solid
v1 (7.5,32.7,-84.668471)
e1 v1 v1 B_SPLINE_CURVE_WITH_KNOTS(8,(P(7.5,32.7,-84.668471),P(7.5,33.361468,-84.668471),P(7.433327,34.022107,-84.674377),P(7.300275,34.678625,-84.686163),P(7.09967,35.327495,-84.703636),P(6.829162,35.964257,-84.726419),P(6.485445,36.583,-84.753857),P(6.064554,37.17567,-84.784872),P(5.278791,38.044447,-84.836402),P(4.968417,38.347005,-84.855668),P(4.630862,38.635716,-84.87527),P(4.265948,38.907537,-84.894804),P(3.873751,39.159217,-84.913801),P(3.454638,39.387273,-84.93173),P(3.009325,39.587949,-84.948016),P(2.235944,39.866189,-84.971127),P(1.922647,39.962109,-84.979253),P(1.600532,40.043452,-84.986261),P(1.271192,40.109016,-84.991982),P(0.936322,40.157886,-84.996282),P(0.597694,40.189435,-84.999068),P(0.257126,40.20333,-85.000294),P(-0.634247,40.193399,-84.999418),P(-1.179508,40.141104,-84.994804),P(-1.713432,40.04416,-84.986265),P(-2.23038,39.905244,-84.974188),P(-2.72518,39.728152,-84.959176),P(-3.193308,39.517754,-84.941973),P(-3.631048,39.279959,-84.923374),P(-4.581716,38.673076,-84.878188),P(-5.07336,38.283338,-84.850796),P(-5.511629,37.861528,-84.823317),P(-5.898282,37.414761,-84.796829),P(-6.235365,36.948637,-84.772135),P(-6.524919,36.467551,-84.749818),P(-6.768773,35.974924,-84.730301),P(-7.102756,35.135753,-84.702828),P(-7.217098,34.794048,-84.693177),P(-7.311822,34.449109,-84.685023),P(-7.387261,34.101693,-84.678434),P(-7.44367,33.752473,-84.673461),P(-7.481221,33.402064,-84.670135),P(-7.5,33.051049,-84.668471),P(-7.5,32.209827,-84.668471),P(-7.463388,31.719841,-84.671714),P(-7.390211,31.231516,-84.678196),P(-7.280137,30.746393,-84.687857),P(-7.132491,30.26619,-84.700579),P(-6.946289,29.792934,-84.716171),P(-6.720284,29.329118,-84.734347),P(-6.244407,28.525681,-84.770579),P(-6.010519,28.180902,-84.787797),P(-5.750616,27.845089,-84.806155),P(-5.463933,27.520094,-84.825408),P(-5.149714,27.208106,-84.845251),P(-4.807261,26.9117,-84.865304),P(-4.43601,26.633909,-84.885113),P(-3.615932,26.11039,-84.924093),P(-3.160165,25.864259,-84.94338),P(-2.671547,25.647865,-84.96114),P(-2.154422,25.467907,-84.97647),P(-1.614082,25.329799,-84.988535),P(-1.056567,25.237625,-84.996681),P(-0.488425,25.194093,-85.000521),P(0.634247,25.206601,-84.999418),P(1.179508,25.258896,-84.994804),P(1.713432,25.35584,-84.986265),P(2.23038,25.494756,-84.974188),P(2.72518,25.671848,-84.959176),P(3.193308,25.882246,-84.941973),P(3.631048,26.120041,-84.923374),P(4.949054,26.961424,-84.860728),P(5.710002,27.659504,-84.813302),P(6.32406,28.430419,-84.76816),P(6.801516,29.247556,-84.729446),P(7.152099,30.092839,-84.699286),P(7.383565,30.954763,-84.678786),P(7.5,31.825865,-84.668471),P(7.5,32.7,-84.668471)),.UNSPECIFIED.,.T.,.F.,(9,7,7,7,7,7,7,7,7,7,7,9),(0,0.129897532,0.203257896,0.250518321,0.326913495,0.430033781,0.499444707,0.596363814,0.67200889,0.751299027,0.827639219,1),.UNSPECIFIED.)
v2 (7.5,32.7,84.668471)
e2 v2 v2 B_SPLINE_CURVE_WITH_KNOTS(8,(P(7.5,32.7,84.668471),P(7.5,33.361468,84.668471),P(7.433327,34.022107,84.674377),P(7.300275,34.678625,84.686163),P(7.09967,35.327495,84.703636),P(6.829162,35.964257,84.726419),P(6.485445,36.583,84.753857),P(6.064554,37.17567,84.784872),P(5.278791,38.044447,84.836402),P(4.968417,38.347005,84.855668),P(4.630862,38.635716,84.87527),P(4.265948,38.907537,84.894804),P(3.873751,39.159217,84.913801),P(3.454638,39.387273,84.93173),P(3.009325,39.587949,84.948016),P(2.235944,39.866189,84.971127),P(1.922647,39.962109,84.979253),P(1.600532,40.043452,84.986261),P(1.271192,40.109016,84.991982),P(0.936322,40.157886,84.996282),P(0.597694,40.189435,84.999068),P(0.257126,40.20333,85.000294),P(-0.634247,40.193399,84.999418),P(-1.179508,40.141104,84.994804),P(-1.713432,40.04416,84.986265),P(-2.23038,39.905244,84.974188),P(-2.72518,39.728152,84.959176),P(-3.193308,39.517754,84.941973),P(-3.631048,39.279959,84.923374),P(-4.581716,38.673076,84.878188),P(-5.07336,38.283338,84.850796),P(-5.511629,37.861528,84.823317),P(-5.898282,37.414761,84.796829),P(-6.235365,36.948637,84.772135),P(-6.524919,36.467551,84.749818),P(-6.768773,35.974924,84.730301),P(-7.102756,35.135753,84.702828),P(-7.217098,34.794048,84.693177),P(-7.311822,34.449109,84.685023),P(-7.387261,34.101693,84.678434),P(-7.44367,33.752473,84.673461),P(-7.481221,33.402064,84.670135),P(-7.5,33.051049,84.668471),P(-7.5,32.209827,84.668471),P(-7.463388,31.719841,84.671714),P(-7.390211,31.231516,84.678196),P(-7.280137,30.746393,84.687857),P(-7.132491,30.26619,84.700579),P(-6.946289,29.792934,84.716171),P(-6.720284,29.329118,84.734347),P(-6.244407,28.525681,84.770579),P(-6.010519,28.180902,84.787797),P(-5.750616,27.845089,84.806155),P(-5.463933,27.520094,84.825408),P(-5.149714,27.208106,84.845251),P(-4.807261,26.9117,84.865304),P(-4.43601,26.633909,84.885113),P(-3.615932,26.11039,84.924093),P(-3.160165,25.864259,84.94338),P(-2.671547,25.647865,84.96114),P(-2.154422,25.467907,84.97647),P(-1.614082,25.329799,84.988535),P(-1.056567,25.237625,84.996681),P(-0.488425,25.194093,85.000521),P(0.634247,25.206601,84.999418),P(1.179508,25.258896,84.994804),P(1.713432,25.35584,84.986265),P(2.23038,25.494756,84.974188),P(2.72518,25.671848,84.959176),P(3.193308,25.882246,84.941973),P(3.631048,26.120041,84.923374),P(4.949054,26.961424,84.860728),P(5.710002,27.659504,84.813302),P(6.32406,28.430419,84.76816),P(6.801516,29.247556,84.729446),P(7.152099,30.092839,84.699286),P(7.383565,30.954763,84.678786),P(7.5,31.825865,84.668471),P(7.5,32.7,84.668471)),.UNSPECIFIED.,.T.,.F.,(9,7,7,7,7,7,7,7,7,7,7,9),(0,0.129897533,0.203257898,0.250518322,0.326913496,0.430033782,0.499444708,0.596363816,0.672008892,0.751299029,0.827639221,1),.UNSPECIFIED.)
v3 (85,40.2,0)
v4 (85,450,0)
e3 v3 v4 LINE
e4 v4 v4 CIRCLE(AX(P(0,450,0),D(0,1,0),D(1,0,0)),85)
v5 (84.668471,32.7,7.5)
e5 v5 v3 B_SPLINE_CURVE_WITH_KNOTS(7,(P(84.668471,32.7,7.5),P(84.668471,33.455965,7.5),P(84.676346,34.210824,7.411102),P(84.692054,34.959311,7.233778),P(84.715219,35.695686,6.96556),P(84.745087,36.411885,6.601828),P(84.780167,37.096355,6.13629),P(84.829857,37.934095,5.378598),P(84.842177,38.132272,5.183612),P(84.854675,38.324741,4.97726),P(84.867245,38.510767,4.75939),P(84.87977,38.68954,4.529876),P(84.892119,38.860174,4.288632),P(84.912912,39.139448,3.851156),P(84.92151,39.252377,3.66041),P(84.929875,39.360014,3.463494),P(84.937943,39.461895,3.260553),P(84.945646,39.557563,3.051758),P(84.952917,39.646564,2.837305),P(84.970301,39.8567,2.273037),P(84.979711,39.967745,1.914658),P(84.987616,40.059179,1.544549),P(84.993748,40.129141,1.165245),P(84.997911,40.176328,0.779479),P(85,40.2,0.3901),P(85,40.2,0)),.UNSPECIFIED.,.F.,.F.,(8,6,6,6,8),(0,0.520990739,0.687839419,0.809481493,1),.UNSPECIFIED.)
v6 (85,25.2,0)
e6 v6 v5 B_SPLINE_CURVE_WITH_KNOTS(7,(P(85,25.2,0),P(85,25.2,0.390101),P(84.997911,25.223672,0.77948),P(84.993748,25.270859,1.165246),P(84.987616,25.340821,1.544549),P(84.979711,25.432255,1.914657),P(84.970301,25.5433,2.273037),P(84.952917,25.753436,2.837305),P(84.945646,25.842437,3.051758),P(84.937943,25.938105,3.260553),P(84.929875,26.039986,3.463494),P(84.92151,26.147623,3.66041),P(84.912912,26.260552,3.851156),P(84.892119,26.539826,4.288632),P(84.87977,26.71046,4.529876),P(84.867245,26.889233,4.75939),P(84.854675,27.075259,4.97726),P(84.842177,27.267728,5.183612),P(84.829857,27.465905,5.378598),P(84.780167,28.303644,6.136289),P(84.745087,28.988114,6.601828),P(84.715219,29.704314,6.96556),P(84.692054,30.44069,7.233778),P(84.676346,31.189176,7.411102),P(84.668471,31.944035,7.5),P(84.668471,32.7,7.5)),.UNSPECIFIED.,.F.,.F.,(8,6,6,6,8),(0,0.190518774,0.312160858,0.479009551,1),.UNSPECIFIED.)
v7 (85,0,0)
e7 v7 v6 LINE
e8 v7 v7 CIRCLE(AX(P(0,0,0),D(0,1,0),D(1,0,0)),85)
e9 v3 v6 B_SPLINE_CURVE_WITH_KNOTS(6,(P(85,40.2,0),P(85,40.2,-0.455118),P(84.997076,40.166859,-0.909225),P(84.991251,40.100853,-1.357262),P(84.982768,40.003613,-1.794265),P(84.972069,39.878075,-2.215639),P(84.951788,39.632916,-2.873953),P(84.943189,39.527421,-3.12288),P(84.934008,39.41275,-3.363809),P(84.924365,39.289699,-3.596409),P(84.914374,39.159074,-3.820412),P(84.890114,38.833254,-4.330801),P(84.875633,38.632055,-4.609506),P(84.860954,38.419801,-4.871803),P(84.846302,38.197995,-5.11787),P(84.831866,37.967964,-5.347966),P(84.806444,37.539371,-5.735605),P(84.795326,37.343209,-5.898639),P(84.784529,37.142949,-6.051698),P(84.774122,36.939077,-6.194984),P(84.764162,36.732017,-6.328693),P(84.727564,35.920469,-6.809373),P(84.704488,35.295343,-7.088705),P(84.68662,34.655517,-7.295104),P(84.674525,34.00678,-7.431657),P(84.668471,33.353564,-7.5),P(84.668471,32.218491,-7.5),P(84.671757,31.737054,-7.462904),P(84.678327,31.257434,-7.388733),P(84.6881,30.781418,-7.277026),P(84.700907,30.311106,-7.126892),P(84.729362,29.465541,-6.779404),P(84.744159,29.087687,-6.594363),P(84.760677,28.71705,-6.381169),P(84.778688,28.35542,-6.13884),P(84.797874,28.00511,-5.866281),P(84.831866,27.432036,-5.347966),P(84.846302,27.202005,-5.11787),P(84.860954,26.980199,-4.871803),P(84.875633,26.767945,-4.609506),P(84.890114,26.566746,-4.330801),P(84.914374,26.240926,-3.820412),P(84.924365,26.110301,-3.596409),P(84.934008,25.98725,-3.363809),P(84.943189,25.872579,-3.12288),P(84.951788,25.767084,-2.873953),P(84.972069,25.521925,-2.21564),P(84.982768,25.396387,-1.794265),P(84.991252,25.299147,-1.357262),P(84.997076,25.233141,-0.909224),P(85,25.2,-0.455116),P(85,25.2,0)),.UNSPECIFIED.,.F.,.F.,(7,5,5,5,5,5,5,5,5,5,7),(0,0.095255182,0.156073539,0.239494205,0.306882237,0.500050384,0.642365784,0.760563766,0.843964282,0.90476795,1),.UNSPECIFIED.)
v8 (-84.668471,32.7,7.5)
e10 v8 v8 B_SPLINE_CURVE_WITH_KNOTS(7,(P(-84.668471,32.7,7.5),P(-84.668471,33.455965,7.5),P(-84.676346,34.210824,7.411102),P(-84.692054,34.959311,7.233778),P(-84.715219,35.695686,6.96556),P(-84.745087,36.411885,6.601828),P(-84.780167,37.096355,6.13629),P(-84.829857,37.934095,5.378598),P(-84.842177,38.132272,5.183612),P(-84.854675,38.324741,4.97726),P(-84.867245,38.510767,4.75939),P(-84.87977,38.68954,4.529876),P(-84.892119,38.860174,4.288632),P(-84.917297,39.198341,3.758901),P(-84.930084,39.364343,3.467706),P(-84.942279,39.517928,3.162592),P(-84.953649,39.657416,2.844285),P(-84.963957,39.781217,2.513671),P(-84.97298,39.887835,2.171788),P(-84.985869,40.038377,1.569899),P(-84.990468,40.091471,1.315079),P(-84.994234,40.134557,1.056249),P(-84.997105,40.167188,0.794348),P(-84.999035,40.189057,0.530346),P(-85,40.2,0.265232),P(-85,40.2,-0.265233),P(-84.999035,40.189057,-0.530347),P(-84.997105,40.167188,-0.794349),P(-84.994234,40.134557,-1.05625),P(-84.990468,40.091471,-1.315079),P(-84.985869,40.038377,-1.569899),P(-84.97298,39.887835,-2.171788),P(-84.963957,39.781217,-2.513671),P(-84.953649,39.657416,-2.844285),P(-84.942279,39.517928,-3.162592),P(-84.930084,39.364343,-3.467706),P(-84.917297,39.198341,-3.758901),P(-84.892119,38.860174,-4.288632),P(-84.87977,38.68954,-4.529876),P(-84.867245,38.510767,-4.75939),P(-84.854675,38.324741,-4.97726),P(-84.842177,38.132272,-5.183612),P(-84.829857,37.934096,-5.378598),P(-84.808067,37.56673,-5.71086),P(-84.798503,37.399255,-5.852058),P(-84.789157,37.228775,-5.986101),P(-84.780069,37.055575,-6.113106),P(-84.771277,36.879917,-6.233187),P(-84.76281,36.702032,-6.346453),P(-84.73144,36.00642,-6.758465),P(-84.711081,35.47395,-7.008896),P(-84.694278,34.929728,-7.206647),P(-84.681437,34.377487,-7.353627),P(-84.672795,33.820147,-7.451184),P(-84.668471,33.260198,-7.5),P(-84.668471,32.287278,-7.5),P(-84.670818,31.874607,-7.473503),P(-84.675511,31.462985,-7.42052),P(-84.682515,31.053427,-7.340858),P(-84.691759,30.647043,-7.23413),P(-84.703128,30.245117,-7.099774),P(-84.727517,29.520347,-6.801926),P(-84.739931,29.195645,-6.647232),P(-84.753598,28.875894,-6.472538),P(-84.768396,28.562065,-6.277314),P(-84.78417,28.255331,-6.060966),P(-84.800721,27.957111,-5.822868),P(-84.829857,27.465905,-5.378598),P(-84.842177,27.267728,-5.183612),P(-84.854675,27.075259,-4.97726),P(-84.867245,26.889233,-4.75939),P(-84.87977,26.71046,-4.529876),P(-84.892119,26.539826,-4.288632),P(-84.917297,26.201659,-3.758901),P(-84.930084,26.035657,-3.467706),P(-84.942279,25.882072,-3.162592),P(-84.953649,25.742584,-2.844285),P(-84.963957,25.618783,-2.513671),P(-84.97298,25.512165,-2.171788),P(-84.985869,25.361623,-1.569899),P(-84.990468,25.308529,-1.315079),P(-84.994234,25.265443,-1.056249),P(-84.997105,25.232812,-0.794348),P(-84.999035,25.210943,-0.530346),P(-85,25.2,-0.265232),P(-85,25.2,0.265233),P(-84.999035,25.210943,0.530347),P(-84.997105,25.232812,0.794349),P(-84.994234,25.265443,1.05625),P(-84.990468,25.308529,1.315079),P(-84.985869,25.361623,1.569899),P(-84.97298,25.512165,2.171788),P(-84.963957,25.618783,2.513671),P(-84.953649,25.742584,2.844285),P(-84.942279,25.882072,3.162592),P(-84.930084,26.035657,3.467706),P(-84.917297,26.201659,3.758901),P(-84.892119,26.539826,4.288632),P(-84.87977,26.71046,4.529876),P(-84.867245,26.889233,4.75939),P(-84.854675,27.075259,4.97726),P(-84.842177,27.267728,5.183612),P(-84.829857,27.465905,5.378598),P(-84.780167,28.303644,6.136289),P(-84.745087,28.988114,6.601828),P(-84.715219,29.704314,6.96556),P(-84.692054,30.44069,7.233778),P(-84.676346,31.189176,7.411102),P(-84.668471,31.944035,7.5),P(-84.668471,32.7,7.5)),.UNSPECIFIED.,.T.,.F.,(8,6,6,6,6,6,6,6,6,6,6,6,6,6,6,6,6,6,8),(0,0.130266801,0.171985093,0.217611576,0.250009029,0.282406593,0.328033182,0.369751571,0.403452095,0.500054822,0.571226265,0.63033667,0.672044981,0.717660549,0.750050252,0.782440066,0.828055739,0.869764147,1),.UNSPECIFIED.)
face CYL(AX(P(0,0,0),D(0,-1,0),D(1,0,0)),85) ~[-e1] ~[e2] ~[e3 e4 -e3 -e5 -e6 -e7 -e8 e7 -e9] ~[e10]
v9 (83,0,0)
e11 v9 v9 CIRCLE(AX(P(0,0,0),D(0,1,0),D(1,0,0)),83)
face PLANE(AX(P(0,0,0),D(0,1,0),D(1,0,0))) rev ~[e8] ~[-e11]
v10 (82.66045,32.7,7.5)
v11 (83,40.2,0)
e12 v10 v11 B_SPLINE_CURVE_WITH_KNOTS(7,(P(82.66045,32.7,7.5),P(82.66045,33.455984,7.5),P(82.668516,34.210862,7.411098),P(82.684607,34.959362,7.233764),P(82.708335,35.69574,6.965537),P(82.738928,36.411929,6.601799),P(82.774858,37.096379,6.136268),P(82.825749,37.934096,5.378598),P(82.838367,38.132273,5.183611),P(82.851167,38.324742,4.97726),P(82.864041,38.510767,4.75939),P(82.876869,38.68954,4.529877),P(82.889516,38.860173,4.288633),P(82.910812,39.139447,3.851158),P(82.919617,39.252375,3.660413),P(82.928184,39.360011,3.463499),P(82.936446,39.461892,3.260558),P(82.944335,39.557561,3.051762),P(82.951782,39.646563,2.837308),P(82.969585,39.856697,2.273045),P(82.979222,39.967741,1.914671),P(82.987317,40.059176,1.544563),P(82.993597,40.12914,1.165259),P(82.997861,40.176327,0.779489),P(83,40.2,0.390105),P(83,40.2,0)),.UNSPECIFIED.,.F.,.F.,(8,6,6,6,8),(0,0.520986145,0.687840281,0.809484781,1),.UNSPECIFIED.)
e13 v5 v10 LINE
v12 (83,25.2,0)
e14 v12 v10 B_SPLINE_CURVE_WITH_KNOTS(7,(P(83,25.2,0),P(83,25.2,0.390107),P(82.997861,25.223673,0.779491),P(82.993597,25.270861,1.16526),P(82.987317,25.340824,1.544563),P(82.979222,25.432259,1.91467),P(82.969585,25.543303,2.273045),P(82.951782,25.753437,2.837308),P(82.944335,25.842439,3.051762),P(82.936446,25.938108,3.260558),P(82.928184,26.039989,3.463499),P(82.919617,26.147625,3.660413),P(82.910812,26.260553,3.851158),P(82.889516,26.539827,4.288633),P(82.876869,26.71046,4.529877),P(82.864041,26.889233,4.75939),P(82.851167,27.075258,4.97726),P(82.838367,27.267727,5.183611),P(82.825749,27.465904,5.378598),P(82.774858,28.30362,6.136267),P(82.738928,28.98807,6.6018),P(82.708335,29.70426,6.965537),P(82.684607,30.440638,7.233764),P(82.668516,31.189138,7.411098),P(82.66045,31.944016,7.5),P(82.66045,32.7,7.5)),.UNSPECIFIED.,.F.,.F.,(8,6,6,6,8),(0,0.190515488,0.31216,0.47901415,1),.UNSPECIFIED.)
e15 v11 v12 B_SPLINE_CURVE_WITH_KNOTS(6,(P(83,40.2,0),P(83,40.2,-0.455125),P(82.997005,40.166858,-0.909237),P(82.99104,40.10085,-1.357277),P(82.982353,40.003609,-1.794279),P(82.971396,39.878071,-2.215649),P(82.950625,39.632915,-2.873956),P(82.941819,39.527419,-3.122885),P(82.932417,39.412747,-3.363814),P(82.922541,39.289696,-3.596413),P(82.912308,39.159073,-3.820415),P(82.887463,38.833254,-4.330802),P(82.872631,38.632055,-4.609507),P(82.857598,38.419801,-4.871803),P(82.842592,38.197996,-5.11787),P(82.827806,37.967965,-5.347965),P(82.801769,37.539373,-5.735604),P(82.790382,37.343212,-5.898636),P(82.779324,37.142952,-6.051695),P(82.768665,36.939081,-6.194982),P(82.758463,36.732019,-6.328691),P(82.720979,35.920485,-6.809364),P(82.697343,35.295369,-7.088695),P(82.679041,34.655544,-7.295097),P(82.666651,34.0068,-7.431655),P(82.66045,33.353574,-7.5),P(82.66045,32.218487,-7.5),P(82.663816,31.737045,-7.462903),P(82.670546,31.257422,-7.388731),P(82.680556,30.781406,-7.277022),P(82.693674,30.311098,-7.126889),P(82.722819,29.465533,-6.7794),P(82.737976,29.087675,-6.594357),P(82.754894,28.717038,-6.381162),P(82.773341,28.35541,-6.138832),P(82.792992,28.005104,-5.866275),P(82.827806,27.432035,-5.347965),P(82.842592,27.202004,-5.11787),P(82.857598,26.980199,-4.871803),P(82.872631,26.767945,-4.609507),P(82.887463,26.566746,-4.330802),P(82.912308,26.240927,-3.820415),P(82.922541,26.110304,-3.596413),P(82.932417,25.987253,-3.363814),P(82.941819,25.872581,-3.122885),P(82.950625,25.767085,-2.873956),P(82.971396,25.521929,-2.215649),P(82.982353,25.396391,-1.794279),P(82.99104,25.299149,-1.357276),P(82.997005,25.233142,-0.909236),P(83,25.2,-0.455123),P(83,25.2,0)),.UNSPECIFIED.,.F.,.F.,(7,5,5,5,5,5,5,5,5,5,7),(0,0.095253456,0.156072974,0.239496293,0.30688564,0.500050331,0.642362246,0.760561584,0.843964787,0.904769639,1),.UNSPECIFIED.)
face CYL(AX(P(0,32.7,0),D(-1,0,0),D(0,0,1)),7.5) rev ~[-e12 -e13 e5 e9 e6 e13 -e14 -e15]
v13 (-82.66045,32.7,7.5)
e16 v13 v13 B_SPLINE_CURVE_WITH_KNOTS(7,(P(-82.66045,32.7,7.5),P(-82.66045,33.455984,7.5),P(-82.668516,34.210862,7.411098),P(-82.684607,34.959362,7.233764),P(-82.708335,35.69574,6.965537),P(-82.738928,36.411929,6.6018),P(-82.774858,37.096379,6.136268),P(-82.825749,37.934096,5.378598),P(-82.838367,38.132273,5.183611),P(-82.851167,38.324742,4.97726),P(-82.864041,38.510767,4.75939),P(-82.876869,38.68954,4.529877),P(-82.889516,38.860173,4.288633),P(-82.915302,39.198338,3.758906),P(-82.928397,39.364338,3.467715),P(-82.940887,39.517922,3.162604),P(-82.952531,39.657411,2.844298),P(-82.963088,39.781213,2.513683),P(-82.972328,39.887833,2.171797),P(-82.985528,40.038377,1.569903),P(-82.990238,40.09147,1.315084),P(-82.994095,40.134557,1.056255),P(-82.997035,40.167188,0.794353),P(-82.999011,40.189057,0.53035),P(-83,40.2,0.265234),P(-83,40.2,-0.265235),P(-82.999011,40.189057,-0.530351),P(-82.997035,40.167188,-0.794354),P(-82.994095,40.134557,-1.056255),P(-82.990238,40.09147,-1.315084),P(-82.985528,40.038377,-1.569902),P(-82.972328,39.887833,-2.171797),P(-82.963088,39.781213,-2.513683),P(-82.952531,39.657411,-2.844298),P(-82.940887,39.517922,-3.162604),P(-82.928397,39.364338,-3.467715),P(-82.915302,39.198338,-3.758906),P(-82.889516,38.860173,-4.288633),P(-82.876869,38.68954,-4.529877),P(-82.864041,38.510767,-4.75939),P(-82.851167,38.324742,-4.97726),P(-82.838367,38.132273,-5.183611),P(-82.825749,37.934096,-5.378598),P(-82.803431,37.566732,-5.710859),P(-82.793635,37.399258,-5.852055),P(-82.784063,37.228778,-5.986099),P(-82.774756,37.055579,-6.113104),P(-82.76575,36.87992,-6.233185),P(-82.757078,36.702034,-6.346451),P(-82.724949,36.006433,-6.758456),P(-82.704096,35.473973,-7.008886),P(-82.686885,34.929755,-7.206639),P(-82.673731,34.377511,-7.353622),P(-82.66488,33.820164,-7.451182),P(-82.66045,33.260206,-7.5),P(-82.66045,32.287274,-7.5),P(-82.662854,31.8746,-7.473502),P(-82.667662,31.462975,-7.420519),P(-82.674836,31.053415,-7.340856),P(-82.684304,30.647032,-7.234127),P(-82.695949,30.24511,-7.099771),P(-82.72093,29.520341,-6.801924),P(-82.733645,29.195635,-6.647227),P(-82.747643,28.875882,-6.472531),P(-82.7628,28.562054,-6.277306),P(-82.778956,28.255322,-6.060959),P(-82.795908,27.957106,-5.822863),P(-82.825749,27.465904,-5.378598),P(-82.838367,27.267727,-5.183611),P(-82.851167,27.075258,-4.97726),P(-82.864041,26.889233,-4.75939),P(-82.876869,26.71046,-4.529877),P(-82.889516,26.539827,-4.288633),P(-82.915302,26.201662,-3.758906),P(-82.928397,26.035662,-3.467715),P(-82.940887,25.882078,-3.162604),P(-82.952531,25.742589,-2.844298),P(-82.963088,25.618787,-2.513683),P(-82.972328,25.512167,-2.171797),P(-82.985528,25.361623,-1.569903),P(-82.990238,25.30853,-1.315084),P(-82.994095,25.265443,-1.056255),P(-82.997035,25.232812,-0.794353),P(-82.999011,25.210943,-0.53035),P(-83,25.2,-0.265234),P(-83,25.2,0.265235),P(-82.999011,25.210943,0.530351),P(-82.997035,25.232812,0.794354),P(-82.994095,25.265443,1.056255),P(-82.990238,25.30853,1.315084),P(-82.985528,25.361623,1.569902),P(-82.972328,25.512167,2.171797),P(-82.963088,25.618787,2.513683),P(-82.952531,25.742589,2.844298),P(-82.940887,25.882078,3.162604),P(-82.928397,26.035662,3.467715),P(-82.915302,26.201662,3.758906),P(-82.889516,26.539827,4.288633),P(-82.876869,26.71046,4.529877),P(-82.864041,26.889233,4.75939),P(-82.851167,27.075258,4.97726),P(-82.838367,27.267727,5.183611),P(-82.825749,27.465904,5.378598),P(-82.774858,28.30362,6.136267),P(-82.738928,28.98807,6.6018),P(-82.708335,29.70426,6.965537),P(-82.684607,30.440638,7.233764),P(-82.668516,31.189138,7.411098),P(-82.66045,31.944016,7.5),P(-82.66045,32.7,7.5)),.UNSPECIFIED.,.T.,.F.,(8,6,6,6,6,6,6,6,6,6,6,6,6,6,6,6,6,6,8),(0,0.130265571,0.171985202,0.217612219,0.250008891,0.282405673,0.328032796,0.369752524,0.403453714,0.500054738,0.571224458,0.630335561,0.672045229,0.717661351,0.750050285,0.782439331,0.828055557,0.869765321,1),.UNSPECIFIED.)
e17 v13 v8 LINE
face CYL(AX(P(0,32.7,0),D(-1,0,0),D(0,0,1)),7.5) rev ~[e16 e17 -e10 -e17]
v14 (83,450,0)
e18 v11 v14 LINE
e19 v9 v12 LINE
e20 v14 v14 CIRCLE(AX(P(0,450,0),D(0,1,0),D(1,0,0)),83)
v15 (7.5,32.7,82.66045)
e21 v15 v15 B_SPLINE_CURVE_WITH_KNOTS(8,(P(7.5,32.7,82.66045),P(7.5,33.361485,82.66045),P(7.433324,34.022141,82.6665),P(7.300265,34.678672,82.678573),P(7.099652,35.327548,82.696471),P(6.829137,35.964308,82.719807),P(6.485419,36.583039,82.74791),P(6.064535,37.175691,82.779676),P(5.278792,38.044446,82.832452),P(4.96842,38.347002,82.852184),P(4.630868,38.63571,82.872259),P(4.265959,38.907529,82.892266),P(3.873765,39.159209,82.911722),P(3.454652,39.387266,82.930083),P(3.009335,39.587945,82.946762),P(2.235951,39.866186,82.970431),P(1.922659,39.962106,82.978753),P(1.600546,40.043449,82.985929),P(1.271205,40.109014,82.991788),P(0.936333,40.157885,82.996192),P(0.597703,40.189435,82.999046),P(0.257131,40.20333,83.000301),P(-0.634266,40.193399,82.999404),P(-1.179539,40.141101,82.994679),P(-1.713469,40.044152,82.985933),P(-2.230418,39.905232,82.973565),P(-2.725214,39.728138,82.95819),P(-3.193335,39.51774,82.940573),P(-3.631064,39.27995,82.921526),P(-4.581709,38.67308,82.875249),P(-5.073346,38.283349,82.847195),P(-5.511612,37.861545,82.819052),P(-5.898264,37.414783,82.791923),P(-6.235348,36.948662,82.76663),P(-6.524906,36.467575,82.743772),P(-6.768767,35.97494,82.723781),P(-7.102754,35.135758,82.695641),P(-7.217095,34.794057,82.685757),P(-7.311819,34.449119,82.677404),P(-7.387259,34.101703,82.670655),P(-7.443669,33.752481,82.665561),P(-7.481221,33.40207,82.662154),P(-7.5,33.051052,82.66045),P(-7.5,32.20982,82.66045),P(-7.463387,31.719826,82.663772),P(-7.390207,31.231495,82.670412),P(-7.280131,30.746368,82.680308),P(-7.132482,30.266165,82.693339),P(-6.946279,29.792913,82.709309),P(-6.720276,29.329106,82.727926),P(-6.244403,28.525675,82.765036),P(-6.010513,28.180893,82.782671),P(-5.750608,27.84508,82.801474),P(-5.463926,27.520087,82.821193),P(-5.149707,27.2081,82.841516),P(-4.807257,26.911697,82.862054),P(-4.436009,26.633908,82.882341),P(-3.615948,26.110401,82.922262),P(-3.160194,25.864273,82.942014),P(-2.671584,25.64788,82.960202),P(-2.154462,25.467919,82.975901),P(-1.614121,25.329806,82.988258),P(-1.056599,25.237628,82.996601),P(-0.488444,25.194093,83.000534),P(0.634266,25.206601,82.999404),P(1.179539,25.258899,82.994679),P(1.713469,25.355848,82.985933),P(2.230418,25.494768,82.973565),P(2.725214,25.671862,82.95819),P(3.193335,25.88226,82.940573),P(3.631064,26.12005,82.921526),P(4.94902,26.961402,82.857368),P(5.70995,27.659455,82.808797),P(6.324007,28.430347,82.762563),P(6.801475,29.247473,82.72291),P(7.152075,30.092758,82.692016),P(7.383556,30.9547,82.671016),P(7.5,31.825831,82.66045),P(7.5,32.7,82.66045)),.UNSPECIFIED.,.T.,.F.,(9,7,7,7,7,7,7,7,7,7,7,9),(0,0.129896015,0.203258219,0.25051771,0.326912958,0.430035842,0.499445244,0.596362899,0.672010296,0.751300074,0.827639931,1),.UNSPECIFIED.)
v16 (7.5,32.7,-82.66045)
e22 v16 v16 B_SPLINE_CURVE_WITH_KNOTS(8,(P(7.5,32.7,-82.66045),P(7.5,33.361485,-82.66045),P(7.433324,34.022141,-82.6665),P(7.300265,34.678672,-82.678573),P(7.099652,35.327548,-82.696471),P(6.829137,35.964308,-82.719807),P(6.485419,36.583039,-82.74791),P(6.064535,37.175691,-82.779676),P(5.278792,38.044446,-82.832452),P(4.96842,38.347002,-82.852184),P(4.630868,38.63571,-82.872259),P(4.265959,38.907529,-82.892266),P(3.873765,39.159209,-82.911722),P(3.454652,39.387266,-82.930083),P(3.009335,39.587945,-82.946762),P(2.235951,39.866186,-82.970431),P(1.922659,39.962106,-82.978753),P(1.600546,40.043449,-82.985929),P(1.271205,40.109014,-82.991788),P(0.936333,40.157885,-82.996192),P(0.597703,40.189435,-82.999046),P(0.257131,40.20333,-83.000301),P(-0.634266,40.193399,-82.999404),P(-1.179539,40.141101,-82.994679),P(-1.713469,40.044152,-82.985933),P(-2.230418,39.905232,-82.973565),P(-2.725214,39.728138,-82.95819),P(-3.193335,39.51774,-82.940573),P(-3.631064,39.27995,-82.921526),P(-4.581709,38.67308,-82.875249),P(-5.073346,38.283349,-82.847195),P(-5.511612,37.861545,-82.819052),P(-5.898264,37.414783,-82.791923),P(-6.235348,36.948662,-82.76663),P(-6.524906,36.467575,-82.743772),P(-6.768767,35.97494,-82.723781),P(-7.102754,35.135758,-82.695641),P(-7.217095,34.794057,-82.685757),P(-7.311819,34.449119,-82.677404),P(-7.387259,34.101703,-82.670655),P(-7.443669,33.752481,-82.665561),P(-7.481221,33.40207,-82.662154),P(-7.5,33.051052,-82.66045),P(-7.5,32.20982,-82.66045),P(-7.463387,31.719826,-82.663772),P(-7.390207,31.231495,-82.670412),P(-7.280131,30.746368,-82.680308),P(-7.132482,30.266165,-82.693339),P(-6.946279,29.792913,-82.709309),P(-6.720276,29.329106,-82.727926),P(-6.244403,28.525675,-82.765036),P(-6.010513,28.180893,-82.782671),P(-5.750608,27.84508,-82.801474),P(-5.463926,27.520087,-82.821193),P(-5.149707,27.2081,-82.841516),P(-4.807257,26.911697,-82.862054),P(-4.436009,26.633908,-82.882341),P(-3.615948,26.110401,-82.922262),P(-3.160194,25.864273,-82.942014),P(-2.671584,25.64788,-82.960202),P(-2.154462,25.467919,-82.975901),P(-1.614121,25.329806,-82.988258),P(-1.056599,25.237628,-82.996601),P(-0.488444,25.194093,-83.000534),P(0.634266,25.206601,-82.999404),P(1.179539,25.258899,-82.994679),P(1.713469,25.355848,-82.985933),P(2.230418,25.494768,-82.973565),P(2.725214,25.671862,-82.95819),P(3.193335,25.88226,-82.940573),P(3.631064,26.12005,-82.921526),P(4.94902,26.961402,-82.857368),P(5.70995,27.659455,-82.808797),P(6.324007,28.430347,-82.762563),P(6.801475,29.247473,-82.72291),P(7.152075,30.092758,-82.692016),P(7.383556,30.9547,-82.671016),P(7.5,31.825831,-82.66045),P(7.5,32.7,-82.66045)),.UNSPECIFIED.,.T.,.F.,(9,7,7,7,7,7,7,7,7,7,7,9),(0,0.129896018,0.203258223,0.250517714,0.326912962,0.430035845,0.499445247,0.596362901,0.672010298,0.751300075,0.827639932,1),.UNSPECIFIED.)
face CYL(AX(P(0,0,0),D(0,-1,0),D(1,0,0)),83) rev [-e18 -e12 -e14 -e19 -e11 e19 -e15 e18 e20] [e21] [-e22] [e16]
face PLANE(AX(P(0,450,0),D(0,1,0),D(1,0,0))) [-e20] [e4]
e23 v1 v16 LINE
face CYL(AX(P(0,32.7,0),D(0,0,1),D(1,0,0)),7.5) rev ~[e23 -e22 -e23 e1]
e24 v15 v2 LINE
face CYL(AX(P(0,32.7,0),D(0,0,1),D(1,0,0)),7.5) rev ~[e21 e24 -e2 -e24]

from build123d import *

# Parameters (mm, degrees)
SKETCH1_R           = 85
SKETCH1_R_2         = 83
EXTRUDE_THIN1_DEPTH = 450
SKETCH2_R           = 7.5
CUT_EXTRUDE1_DEPTH  = 100
CIRPATTERN1_COUNT   = 2
CIRPATTERN1_ANGLE   = 90


with BuildPart() as part:
    # Sketch1 → Extrude-Thin1 (new body)
    with BuildSketch(Plane(origin=(0, 0, 0), x_dir=(1, 0, 0), z_dir=(0, 1, 0))):
        Circle(SKETCH1_R)
        Circle(SKETCH1_R_2, mode=Mode.SUBTRACT)
    extrude(amount=EXTRUDE_THIN1_DEPTH)

    # Sketch2 → Cut-Extrude1 (cut, symmetric)
    with BuildSketch(Plane.XY):
        with Locations((0, 32.7)):
            Circle(SKETCH2_R)
    cut_extrude1 = extrude(amount=CUT_EXTRUDE1_DEPTH, both=True, mode=Mode.SUBTRACT)

    # CirPattern1: Cut-Extrude1 ×2 about axis
    cirpattern1_axis = Axis((0, 450, 0), (0, -1, 0))
    for i in range(1, CIRPATTERN1_COUNT):
        add(cut_extrude1.rotate(cirpattern1_axis, i * CIRPATTERN1_ANGLE / (CIRPATTERN1_COUNT - 1)), mode=Mode.SUBTRACT)


solid = part.part
